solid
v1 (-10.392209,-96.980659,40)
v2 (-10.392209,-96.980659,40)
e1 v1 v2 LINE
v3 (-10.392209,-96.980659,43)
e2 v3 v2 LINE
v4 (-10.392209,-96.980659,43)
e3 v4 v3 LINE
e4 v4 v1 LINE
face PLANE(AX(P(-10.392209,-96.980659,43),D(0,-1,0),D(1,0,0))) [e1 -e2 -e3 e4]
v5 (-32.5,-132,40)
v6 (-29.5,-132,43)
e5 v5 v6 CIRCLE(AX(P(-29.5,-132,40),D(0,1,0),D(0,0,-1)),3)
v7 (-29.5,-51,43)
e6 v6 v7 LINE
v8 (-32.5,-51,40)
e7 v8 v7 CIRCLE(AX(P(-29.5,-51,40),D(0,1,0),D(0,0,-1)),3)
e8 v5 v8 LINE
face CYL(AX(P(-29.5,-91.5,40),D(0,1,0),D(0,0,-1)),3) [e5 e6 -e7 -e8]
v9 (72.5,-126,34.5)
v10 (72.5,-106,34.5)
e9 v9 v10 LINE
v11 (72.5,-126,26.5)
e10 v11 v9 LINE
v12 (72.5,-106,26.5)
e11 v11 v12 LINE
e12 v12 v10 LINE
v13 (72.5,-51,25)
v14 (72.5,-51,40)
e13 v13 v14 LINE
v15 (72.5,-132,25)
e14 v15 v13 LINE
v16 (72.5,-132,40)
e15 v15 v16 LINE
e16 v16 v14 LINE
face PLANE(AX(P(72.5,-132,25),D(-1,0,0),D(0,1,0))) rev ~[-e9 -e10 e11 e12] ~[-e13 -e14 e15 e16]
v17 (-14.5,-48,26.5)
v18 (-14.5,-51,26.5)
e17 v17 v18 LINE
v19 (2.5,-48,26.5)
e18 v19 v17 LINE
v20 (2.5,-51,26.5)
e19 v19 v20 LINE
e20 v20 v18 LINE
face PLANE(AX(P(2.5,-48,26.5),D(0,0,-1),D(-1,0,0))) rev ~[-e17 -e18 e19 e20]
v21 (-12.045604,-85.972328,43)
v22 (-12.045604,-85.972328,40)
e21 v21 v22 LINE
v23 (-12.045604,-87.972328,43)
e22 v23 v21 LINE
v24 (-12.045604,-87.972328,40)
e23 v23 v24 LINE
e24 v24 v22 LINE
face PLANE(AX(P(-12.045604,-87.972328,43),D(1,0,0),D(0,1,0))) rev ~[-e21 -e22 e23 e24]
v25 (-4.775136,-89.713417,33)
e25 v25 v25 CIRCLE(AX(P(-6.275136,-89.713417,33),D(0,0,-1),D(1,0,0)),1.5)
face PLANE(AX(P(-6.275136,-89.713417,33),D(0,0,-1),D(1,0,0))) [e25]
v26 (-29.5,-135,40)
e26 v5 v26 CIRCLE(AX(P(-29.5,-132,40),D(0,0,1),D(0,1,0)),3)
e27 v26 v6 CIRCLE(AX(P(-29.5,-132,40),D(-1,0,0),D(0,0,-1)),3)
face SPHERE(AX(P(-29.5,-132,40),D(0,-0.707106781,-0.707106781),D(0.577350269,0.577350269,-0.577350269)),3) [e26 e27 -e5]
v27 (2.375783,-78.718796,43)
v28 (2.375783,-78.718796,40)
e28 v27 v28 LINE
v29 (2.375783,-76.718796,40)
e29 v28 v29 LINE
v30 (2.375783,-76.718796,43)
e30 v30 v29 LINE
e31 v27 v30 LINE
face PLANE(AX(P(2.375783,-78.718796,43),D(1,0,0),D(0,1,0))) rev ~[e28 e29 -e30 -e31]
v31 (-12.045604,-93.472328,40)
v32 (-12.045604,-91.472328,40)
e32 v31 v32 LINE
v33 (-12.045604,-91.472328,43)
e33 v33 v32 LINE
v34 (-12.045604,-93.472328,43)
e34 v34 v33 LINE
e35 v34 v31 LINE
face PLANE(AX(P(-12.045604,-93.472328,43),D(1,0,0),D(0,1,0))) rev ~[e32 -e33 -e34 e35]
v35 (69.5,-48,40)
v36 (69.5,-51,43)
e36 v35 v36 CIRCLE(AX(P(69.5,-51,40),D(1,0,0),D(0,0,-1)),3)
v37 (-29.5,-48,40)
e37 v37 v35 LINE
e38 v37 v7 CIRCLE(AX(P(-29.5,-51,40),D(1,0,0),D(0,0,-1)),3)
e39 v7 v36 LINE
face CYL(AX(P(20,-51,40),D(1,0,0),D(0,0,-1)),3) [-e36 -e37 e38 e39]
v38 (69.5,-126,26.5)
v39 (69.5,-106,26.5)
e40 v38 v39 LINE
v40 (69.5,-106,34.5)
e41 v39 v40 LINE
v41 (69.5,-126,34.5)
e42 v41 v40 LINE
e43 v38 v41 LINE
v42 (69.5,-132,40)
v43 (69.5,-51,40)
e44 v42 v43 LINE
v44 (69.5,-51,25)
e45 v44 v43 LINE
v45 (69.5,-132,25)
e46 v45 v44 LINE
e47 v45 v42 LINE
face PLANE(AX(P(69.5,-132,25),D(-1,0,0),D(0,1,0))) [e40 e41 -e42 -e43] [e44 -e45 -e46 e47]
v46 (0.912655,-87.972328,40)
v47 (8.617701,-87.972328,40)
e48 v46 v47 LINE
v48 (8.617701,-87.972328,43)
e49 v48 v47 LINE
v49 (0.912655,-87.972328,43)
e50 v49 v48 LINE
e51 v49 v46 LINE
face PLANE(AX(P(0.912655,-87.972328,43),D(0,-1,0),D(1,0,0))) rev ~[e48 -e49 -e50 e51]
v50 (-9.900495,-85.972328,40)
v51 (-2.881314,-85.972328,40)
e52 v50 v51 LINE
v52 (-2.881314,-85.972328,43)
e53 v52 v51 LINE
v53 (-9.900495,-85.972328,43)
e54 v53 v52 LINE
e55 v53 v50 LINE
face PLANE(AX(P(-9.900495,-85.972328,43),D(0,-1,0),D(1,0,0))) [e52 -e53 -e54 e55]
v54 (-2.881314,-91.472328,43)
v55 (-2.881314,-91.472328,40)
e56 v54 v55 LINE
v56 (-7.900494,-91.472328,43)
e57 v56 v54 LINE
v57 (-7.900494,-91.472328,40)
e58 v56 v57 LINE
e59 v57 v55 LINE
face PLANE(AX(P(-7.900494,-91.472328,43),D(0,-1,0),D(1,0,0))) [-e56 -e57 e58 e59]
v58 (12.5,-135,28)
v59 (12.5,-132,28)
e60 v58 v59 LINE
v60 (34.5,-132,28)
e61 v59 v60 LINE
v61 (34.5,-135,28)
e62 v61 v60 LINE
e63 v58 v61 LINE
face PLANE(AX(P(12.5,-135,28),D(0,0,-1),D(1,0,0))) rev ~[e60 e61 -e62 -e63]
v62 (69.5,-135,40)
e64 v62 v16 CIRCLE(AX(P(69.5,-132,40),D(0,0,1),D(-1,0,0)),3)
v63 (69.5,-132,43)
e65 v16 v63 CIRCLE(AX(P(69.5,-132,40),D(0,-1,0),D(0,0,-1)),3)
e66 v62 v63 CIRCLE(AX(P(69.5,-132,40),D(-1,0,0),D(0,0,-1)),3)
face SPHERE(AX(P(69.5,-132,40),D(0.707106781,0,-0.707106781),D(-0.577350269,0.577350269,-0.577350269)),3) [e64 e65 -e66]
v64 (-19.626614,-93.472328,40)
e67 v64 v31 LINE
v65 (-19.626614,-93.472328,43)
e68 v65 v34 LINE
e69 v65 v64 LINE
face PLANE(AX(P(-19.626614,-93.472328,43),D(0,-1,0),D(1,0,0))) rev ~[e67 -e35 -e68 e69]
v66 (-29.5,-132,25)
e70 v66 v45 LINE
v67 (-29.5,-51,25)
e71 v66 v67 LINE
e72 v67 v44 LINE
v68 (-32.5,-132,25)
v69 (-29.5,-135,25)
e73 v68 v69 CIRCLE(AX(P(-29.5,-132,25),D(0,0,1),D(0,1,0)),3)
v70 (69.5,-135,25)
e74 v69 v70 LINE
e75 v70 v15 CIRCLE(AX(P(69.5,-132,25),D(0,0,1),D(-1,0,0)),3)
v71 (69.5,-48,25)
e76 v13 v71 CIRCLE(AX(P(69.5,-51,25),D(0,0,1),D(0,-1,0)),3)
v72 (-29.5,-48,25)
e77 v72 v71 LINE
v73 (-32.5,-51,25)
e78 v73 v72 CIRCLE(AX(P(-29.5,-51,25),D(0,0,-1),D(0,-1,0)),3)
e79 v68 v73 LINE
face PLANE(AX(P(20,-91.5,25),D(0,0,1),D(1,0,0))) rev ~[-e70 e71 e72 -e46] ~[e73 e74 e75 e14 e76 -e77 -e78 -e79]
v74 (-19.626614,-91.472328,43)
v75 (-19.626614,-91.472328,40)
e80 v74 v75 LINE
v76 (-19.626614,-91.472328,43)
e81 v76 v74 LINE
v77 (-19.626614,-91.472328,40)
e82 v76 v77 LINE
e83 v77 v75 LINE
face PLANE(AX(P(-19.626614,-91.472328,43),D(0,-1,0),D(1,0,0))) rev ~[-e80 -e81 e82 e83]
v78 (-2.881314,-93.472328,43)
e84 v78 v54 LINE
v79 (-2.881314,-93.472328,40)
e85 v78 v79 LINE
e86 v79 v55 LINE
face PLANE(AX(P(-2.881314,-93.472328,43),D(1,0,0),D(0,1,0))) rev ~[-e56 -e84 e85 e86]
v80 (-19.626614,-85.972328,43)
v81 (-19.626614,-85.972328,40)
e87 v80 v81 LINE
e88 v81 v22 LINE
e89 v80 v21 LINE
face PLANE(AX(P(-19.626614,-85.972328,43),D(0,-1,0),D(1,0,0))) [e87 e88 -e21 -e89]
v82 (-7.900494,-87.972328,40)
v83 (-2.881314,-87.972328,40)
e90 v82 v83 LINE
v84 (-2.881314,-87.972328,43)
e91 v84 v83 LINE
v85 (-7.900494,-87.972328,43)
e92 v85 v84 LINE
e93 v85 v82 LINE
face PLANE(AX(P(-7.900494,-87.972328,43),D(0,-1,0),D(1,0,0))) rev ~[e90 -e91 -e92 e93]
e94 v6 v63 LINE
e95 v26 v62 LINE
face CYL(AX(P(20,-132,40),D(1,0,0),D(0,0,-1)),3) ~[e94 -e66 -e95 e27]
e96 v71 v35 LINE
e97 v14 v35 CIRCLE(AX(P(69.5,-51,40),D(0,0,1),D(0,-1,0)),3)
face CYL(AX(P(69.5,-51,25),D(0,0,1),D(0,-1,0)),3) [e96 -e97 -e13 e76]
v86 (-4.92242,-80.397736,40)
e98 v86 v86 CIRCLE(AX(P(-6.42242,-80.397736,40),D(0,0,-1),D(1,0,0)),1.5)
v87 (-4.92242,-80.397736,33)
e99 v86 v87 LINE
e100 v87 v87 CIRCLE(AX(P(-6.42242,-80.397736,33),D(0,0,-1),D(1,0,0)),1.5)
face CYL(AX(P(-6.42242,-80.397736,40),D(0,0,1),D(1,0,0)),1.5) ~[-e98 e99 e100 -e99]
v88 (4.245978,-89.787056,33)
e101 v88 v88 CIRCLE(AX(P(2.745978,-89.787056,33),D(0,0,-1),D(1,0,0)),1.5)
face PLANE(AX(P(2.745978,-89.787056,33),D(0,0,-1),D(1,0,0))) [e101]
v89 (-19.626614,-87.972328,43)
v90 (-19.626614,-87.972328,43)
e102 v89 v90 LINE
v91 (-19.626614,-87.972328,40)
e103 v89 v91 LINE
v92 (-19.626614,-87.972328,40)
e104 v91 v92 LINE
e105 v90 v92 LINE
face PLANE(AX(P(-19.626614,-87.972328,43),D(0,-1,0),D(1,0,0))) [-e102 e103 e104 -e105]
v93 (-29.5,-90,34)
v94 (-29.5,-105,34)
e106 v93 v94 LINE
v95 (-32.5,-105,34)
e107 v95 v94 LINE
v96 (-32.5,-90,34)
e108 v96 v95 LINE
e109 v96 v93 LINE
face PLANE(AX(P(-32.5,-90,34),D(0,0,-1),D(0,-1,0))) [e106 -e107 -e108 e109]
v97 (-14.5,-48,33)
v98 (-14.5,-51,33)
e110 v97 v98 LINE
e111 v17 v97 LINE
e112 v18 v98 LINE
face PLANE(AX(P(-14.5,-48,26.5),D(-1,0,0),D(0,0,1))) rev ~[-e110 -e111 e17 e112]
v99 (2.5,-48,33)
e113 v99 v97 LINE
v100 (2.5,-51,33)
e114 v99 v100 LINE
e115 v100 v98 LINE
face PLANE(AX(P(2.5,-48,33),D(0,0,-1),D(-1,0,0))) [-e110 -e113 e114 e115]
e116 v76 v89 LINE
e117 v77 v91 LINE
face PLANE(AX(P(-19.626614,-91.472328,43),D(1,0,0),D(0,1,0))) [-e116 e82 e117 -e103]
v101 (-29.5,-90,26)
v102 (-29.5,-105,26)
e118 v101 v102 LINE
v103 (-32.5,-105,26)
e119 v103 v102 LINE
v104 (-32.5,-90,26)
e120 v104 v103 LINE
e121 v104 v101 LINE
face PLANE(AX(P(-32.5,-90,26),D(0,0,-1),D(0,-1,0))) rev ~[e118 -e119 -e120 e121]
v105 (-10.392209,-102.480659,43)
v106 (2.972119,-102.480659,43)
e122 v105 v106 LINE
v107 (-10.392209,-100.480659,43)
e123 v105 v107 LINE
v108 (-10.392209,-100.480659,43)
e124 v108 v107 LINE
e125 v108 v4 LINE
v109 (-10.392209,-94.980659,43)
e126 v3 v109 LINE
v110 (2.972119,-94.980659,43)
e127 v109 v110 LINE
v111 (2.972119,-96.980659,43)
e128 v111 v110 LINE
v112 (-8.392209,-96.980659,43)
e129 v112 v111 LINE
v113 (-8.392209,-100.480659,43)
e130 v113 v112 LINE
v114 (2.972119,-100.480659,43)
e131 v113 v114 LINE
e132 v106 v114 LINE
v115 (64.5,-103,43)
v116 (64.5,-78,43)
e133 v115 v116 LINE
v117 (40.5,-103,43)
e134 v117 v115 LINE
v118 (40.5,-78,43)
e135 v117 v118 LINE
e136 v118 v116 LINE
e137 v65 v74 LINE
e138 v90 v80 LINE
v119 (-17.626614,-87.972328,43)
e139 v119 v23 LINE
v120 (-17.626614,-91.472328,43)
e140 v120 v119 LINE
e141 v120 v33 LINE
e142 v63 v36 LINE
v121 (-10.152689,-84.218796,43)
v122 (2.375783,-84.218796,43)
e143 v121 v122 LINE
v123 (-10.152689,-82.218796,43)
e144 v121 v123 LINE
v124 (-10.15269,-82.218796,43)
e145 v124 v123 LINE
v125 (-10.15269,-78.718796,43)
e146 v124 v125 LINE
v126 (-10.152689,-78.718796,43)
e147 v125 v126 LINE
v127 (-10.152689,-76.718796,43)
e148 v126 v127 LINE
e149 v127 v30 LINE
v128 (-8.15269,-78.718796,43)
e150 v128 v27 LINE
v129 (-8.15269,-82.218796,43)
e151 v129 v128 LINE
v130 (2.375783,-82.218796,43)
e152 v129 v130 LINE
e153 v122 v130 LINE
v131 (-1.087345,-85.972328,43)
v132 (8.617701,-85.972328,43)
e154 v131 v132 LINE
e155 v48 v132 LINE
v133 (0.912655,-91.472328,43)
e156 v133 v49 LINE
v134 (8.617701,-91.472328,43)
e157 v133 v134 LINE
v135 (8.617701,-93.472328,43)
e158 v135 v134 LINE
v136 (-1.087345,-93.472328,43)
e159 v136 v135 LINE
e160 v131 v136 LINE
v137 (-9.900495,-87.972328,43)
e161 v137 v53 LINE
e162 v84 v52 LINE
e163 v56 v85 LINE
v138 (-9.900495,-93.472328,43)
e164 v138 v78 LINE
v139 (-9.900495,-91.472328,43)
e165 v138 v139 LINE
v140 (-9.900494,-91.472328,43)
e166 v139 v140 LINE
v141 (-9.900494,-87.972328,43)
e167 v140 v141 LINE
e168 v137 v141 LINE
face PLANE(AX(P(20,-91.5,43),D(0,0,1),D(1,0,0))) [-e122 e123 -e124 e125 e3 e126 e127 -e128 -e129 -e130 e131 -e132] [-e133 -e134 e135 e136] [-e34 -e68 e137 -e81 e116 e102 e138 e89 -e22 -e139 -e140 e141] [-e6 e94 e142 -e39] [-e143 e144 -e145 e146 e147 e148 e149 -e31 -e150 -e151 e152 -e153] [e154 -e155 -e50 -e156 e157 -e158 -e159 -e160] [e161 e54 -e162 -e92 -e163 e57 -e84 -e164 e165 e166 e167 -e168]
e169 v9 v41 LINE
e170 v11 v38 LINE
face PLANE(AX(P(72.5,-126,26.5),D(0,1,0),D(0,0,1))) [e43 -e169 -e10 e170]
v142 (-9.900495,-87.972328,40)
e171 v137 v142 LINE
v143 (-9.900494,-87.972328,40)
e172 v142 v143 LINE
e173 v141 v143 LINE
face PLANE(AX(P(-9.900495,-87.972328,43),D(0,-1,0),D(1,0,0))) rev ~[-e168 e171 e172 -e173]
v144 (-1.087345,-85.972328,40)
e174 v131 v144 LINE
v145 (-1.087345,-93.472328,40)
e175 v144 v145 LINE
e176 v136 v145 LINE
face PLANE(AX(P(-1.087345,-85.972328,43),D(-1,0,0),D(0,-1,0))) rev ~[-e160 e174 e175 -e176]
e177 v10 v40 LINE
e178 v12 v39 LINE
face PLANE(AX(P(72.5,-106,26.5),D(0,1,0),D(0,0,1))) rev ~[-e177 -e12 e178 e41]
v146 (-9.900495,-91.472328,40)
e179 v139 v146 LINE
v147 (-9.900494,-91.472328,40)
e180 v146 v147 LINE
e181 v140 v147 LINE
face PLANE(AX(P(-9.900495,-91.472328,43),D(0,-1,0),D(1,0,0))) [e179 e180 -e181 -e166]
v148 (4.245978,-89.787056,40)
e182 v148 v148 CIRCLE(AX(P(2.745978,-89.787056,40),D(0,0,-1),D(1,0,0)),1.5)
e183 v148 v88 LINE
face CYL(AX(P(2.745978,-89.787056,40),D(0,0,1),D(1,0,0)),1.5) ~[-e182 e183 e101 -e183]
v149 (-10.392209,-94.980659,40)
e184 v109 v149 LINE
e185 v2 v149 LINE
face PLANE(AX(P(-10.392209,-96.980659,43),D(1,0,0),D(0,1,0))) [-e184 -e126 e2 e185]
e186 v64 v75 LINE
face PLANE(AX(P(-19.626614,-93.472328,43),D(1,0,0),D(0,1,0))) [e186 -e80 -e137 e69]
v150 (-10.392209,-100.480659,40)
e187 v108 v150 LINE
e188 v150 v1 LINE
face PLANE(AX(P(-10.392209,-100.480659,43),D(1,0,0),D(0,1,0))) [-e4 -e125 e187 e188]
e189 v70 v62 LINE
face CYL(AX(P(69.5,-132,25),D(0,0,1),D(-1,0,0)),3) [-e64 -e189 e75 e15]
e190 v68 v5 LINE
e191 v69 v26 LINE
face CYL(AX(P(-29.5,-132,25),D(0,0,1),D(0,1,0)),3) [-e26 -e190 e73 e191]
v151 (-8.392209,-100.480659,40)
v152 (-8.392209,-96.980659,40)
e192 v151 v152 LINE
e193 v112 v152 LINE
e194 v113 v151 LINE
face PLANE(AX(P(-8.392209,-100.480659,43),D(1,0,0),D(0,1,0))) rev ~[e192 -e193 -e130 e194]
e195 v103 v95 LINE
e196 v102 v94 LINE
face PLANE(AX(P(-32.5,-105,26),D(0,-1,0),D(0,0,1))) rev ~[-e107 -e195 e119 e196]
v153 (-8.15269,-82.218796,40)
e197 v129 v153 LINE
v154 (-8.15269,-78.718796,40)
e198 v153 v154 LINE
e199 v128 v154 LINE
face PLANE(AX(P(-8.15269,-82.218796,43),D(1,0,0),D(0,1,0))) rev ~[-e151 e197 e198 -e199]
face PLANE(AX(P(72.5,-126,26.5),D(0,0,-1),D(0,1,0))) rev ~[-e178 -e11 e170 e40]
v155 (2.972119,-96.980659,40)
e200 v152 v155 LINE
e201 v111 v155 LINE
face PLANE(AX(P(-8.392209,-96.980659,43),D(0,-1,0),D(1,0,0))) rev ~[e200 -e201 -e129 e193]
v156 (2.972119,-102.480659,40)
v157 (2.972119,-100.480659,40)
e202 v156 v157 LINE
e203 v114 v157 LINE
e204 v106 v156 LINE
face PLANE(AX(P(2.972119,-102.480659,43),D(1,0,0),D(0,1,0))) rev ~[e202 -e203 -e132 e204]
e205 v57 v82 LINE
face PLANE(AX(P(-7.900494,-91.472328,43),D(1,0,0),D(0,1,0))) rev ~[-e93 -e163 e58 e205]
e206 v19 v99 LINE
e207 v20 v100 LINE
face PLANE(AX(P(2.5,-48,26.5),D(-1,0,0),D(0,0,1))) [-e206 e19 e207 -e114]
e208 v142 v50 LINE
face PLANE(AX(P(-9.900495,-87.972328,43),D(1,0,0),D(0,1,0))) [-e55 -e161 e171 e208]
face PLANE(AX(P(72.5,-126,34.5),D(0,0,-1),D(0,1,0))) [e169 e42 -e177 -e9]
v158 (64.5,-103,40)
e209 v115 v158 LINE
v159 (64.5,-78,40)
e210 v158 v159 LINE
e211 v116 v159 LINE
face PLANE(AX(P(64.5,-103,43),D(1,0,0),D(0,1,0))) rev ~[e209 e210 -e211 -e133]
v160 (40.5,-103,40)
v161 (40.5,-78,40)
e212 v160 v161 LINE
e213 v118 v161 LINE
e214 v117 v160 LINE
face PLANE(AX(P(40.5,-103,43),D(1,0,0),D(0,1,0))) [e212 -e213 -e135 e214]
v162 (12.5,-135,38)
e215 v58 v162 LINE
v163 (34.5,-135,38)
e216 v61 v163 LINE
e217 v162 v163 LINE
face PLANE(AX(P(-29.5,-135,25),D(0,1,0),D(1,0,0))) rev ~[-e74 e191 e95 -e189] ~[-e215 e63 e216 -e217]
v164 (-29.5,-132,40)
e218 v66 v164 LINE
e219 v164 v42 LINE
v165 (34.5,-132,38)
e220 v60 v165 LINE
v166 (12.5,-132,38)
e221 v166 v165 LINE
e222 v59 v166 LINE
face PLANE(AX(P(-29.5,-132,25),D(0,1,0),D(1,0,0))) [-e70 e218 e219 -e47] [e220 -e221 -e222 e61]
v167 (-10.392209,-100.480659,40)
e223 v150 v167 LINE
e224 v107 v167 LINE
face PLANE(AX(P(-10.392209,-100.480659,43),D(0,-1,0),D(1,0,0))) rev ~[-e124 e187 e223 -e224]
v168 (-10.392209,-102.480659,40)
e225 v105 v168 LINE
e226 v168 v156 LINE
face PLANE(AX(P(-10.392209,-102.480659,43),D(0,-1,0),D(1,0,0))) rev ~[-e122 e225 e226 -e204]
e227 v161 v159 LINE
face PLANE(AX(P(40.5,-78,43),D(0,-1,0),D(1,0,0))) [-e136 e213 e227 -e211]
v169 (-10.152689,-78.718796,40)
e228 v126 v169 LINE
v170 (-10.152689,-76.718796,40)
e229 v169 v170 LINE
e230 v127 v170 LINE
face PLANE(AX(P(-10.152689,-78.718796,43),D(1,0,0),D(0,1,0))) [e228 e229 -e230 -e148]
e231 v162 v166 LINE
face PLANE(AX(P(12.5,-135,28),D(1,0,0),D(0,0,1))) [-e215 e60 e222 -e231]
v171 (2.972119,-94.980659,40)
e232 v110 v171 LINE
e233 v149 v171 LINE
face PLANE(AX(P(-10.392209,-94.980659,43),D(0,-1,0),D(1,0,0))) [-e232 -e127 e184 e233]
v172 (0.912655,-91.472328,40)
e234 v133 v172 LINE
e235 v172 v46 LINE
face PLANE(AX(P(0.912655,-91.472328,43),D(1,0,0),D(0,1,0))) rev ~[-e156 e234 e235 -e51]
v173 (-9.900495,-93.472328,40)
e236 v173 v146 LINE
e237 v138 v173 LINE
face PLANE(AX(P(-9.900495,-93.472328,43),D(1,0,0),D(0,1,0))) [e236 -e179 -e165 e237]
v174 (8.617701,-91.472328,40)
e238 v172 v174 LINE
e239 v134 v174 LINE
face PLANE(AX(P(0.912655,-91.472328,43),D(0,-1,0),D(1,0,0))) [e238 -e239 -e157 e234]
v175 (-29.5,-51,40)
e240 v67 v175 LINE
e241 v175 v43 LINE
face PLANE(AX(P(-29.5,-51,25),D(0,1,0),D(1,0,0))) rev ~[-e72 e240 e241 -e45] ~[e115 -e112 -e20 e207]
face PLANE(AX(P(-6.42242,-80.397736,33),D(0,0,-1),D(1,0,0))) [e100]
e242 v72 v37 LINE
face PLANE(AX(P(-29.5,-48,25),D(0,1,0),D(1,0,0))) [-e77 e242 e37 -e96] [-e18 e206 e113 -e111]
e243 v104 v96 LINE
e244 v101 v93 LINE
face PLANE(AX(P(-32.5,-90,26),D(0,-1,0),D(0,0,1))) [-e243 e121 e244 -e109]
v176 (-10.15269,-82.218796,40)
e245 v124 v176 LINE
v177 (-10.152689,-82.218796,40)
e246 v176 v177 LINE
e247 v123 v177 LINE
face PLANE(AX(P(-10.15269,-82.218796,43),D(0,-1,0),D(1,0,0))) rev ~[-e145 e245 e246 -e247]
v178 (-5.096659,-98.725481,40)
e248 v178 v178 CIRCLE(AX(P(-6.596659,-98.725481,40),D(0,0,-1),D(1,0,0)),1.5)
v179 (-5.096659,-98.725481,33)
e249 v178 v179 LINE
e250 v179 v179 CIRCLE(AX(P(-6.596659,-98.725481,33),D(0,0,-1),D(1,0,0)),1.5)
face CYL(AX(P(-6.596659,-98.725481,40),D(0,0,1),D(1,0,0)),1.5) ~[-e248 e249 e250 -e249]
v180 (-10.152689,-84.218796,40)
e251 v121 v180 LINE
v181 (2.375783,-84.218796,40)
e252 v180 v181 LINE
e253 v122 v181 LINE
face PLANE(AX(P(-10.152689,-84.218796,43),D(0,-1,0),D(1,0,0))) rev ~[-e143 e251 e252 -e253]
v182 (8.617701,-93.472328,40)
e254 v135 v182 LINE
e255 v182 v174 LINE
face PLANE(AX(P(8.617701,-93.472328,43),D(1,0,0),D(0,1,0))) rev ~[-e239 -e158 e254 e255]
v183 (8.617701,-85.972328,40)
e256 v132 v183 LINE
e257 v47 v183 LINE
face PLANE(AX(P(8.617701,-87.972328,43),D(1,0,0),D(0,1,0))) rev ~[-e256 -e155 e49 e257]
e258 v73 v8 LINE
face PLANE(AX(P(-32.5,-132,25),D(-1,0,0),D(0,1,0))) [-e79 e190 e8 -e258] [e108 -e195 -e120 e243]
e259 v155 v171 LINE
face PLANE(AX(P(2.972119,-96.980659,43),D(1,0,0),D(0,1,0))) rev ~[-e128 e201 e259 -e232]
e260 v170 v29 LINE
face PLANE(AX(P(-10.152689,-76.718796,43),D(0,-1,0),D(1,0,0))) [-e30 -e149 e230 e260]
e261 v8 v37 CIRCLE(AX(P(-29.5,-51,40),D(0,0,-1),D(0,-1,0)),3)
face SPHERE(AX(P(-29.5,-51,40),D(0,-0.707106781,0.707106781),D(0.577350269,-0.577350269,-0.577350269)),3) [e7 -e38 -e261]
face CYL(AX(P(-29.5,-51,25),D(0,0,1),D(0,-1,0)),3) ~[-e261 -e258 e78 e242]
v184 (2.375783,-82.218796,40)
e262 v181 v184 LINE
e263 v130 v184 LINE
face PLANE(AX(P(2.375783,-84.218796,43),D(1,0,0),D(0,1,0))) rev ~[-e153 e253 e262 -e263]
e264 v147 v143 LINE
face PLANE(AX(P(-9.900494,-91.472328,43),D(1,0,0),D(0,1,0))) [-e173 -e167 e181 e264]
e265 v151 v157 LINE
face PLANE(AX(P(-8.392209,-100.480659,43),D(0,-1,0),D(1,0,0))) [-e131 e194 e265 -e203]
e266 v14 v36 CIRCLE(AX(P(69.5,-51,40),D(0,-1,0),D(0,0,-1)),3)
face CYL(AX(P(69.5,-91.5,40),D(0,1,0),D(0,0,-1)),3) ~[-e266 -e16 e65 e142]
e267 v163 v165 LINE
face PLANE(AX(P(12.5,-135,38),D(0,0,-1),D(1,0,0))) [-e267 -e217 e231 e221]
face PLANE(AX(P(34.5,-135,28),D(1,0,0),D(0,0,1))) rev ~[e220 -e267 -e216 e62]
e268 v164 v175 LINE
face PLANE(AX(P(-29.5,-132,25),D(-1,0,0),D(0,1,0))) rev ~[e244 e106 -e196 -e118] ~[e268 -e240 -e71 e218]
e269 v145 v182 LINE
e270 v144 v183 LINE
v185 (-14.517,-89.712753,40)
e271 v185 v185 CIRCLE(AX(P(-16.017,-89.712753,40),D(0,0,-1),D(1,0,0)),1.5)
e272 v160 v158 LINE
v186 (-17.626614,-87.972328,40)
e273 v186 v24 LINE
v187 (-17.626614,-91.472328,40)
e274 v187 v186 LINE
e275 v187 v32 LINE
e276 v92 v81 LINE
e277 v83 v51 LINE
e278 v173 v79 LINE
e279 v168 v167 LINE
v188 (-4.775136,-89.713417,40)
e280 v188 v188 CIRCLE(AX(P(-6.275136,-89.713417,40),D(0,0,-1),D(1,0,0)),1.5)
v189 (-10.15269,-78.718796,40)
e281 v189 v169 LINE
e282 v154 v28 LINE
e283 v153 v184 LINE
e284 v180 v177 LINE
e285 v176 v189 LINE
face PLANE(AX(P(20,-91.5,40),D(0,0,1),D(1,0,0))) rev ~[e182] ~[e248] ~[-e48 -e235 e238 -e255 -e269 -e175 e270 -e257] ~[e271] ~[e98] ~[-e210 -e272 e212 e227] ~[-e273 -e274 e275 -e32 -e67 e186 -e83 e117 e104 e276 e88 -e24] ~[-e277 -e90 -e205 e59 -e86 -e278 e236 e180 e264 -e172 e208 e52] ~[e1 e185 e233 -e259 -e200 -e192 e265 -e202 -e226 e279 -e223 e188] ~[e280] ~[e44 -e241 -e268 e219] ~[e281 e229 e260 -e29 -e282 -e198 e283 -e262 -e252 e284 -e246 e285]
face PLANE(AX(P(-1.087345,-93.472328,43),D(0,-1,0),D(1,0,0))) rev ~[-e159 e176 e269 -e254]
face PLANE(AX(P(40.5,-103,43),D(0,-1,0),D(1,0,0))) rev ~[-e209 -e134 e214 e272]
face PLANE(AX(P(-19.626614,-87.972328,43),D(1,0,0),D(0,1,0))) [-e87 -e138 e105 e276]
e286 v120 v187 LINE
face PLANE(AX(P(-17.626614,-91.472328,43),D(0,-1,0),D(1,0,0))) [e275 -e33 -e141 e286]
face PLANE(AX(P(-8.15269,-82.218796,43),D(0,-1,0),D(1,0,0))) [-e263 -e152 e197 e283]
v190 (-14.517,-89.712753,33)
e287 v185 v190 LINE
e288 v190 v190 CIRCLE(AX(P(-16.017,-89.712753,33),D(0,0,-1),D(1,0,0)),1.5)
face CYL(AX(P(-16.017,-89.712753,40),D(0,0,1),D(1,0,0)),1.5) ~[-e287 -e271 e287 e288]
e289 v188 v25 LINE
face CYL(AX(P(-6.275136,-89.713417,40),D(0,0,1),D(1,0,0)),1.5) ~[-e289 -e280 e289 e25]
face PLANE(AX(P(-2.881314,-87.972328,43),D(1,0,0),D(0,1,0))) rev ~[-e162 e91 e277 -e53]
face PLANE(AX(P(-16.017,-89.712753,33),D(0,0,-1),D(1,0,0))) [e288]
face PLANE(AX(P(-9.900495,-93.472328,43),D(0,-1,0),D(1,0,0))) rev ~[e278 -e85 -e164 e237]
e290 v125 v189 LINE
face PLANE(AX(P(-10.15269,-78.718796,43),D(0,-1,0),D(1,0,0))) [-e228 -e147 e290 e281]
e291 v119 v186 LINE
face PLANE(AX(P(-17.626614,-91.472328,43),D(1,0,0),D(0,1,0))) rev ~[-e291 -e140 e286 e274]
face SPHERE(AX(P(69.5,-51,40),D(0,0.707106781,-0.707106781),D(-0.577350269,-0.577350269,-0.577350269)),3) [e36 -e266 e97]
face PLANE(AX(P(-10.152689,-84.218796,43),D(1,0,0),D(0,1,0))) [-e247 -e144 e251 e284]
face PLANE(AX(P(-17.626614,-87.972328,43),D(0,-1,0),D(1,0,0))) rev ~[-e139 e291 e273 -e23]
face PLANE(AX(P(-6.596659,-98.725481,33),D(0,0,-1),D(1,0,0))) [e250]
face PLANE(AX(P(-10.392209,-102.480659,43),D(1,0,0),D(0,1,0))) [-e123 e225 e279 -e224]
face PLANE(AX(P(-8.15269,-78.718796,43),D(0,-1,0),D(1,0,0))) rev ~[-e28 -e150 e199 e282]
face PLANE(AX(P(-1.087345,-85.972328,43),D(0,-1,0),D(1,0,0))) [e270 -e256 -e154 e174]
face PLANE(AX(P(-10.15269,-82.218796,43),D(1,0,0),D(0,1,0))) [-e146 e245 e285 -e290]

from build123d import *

# Parameters (mm, degrees)
SKETCH001_W     = 99
SKETCH001_H     = 81
PAD001_DEPTH    = 15
THICKNESS001_T  = 3
SKETCH003_R     = 1.6
POCKET001_DEPTH = 12.001
SKETCH005_W     = 24
SKETCH005_H     = 25
POCKET002_DEPTH = 18.001
SKETCH006_W     = 15
SKETCH006_H     = 8
POCKET003_DEPTH = 3
SKETCH007_W     = 17
SKETCH007_H     = 6.5
POCKET004_DEPTH = 3
SKETCH008_W     = 20
SKETCH008_H     = 8
POCKET005_DEPTH = 3
SKETCH009_W     = 22
SKETCH009_H     = 10
POCKET006_DEPTH = 3
SKETCH010_W     = 2
SKETCH010_H     = 3.5
SKETCH010_W_2   = 12.528473
SKETCH010_H_2   = 2
SKETCH010_W_3   = 9.705046
SKETCH010_W_4   = 7.019181
SKETCH010_W_5   = 13.364327
SKETCH010_W_6   = 7.581009
POCKET007_DEPTH = 3
SKETCH011_R     = 1.5
PAD002_DEPTH    = 7


with BuildPart() as part:
    # Sketch001 → Pad001 (new body)
    with BuildSketch(Plane.XY.offset(25)):
        with Locations((20, -91.5)):
            Rectangle(SKETCH001_W, SKETCH001_H)
    extrude(amount=PAD001_DEPTH)

    # Thickness001
    thickness001_openings = [part.faces().sort_by_distance(p)[0] for p in [
        (20, -91.5, 25),
    ]]
    offset(amount=THICKNESS001_T, openings=thickness001_openings)

    # Sketch003 (on Part__Feature) → Pocket001 (cut, through all)
    with BuildSketch(Plane(origin=(-200, 0, 37), x_dir=(1, 0, 0), z_dir=(0, 0, 1))):
        with Locations((180, -63)):
            Circle(SKETCH003_R)
        with Locations((254, -124)):
            Circle(SKETCH003_R)
    extrude(amount=-POCKET001_DEPTH, mode=Mode.SUBTRACT)

    # Sketch005 (on Face23 of Pocket001) → Pocket002 (cut, through all)
    with BuildSketch(Plane.XY.offset(43)):
        with Locations((52.5, -90.5)):
            Rectangle(SKETCH005_W, SKETCH005_H)
    extrude(amount=-POCKET002_DEPTH, mode=Mode.SUBTRACT)

    # Sketch006 (on Face10 of Pocket002) → Pocket003 (cut)
    with BuildSketch(Plane(origin=(-32.5, 0, 0), x_dir=(0, -1, 0), z_dir=(-1, 0, 0))):
        with Locations((97.5, 30)):
            Rectangle(SKETCH006_W, SKETCH006_H)
    extrude(amount=-POCKET003_DEPTH, mode=Mode.SUBTRACT)

    # Sketch007 (on Face12 of Pocket003) → Pocket004 (cut)
    with BuildSketch(Plane(origin=(0, -48, 0), x_dir=(-1, 0, 0), z_dir=(0, 1, 0))):
        with Locations((6, 29.75)):
            Rectangle(SKETCH007_W, SKETCH007_H)
    extrude(amount=-POCKET004_DEPTH, mode=Mode.SUBTRACT)

    # Sketch008 (on Face22 of Pocket004) → Pocket005 (cut)
    with BuildSketch(Plane.YZ.offset(72.5)):
        with Locations((-116, 30.5)):
            Rectangle(SKETCH008_W, SKETCH008_H)
    extrude(amount=-POCKET005_DEPTH, mode=Mode.SUBTRACT)

    # Sketch009 (on Face20 of Pocket005) → Pocket006 (cut)
    with BuildSketch(Plane.XZ.offset(135)):
        with Locations((23.5, 33)):
            Rectangle(SKETCH009_W, SKETCH009_H)
    extrude(amount=-POCKET006_DEPTH, mode=Mode.SUBTRACT)

    # Sketch010 (on Face43 of Pocket006) → Pocket007 (cut)
    with BuildSketch(Plane.XY.offset(43)):
        with Locations((-9.15269, -80.468796)):
            Rectangle(SKETCH010_W, SKETCH010_H)
        with Locations((-3.888453, -77.718796)):
            Rectangle(SKETCH010_W_2, SKETCH010_H_2)
        with Locations((-3.888453, -83.218796)):
            Rectangle(SKETCH010_W_2, SKETCH010_H_2)
        with Locations((-0.087345, -89.722328)):
            Rectangle(SKETCH010_W, SKETCH010_H)
        with Locations((3.765178, -86.972328)):
            Rectangle(SKETCH010_W_3, SKETCH010_H_2)
        with Locations((3.765178, -92.472328)):
            Rectangle(SKETCH010_W_3, SKETCH010_H_2)
        with Locations((-8.900494, -89.722328)):
            Rectangle(SKETCH010_W, SKETCH010_H)
        with Locations((-6.390904, -86.972328)):
            Rectangle(SKETCH010_W_4, SKETCH010_H_2)
        with Locations((-6.390904, -92.472328)):
            Rectangle(SKETCH010_W_4, SKETCH010_H_2)
        with Locations((-9.392209, -98.730659)):
            Rectangle(SKETCH010_W, SKETCH010_H)
        with Locations((-3.710045, -95.980659)):
            Rectangle(SKETCH010_W_5, SKETCH010_H_2)
        with Locations((-3.710045, -101.480659)):
            Rectangle(SKETCH010_W_5, SKETCH010_H_2)
        with Locations((-18.626614, -89.722328)):
            Rectangle(SKETCH010_W, SKETCH010_H)
        with Locations((-15.836109, -86.972328)):
            Rectangle(SKETCH010_W_6, SKETCH010_H_2)
        with Locations((-15.836109, -92.472328)):
            Rectangle(SKETCH010_W_6, SKETCH010_H_2)
    extrude(amount=-POCKET007_DEPTH, mode=Mode.SUBTRACT)

    # Sketch011 (on Face4 of Pocket007) → Pad002 (join)
    with BuildSketch(Plane(origin=(0, 0, 40), x_dir=(1, 0, 0), z_dir=(0, 0, -1))):
        with Locations((-6.596659, 98.725481)):
            Circle(SKETCH011_R)
        with Locations((2.745978, 89.787056)):
            Circle(SKETCH011_R)
        with Locations((-6.275136, 89.713417)):
            Circle(SKETCH011_R)
        with Locations((-6.42242, 80.397736)):
            Circle(SKETCH011_R)
        with Locations((-16.017, 89.712753)):
            Circle(SKETCH011_R)
    extrude(amount=PAD002_DEPTH)


solid = part.part
